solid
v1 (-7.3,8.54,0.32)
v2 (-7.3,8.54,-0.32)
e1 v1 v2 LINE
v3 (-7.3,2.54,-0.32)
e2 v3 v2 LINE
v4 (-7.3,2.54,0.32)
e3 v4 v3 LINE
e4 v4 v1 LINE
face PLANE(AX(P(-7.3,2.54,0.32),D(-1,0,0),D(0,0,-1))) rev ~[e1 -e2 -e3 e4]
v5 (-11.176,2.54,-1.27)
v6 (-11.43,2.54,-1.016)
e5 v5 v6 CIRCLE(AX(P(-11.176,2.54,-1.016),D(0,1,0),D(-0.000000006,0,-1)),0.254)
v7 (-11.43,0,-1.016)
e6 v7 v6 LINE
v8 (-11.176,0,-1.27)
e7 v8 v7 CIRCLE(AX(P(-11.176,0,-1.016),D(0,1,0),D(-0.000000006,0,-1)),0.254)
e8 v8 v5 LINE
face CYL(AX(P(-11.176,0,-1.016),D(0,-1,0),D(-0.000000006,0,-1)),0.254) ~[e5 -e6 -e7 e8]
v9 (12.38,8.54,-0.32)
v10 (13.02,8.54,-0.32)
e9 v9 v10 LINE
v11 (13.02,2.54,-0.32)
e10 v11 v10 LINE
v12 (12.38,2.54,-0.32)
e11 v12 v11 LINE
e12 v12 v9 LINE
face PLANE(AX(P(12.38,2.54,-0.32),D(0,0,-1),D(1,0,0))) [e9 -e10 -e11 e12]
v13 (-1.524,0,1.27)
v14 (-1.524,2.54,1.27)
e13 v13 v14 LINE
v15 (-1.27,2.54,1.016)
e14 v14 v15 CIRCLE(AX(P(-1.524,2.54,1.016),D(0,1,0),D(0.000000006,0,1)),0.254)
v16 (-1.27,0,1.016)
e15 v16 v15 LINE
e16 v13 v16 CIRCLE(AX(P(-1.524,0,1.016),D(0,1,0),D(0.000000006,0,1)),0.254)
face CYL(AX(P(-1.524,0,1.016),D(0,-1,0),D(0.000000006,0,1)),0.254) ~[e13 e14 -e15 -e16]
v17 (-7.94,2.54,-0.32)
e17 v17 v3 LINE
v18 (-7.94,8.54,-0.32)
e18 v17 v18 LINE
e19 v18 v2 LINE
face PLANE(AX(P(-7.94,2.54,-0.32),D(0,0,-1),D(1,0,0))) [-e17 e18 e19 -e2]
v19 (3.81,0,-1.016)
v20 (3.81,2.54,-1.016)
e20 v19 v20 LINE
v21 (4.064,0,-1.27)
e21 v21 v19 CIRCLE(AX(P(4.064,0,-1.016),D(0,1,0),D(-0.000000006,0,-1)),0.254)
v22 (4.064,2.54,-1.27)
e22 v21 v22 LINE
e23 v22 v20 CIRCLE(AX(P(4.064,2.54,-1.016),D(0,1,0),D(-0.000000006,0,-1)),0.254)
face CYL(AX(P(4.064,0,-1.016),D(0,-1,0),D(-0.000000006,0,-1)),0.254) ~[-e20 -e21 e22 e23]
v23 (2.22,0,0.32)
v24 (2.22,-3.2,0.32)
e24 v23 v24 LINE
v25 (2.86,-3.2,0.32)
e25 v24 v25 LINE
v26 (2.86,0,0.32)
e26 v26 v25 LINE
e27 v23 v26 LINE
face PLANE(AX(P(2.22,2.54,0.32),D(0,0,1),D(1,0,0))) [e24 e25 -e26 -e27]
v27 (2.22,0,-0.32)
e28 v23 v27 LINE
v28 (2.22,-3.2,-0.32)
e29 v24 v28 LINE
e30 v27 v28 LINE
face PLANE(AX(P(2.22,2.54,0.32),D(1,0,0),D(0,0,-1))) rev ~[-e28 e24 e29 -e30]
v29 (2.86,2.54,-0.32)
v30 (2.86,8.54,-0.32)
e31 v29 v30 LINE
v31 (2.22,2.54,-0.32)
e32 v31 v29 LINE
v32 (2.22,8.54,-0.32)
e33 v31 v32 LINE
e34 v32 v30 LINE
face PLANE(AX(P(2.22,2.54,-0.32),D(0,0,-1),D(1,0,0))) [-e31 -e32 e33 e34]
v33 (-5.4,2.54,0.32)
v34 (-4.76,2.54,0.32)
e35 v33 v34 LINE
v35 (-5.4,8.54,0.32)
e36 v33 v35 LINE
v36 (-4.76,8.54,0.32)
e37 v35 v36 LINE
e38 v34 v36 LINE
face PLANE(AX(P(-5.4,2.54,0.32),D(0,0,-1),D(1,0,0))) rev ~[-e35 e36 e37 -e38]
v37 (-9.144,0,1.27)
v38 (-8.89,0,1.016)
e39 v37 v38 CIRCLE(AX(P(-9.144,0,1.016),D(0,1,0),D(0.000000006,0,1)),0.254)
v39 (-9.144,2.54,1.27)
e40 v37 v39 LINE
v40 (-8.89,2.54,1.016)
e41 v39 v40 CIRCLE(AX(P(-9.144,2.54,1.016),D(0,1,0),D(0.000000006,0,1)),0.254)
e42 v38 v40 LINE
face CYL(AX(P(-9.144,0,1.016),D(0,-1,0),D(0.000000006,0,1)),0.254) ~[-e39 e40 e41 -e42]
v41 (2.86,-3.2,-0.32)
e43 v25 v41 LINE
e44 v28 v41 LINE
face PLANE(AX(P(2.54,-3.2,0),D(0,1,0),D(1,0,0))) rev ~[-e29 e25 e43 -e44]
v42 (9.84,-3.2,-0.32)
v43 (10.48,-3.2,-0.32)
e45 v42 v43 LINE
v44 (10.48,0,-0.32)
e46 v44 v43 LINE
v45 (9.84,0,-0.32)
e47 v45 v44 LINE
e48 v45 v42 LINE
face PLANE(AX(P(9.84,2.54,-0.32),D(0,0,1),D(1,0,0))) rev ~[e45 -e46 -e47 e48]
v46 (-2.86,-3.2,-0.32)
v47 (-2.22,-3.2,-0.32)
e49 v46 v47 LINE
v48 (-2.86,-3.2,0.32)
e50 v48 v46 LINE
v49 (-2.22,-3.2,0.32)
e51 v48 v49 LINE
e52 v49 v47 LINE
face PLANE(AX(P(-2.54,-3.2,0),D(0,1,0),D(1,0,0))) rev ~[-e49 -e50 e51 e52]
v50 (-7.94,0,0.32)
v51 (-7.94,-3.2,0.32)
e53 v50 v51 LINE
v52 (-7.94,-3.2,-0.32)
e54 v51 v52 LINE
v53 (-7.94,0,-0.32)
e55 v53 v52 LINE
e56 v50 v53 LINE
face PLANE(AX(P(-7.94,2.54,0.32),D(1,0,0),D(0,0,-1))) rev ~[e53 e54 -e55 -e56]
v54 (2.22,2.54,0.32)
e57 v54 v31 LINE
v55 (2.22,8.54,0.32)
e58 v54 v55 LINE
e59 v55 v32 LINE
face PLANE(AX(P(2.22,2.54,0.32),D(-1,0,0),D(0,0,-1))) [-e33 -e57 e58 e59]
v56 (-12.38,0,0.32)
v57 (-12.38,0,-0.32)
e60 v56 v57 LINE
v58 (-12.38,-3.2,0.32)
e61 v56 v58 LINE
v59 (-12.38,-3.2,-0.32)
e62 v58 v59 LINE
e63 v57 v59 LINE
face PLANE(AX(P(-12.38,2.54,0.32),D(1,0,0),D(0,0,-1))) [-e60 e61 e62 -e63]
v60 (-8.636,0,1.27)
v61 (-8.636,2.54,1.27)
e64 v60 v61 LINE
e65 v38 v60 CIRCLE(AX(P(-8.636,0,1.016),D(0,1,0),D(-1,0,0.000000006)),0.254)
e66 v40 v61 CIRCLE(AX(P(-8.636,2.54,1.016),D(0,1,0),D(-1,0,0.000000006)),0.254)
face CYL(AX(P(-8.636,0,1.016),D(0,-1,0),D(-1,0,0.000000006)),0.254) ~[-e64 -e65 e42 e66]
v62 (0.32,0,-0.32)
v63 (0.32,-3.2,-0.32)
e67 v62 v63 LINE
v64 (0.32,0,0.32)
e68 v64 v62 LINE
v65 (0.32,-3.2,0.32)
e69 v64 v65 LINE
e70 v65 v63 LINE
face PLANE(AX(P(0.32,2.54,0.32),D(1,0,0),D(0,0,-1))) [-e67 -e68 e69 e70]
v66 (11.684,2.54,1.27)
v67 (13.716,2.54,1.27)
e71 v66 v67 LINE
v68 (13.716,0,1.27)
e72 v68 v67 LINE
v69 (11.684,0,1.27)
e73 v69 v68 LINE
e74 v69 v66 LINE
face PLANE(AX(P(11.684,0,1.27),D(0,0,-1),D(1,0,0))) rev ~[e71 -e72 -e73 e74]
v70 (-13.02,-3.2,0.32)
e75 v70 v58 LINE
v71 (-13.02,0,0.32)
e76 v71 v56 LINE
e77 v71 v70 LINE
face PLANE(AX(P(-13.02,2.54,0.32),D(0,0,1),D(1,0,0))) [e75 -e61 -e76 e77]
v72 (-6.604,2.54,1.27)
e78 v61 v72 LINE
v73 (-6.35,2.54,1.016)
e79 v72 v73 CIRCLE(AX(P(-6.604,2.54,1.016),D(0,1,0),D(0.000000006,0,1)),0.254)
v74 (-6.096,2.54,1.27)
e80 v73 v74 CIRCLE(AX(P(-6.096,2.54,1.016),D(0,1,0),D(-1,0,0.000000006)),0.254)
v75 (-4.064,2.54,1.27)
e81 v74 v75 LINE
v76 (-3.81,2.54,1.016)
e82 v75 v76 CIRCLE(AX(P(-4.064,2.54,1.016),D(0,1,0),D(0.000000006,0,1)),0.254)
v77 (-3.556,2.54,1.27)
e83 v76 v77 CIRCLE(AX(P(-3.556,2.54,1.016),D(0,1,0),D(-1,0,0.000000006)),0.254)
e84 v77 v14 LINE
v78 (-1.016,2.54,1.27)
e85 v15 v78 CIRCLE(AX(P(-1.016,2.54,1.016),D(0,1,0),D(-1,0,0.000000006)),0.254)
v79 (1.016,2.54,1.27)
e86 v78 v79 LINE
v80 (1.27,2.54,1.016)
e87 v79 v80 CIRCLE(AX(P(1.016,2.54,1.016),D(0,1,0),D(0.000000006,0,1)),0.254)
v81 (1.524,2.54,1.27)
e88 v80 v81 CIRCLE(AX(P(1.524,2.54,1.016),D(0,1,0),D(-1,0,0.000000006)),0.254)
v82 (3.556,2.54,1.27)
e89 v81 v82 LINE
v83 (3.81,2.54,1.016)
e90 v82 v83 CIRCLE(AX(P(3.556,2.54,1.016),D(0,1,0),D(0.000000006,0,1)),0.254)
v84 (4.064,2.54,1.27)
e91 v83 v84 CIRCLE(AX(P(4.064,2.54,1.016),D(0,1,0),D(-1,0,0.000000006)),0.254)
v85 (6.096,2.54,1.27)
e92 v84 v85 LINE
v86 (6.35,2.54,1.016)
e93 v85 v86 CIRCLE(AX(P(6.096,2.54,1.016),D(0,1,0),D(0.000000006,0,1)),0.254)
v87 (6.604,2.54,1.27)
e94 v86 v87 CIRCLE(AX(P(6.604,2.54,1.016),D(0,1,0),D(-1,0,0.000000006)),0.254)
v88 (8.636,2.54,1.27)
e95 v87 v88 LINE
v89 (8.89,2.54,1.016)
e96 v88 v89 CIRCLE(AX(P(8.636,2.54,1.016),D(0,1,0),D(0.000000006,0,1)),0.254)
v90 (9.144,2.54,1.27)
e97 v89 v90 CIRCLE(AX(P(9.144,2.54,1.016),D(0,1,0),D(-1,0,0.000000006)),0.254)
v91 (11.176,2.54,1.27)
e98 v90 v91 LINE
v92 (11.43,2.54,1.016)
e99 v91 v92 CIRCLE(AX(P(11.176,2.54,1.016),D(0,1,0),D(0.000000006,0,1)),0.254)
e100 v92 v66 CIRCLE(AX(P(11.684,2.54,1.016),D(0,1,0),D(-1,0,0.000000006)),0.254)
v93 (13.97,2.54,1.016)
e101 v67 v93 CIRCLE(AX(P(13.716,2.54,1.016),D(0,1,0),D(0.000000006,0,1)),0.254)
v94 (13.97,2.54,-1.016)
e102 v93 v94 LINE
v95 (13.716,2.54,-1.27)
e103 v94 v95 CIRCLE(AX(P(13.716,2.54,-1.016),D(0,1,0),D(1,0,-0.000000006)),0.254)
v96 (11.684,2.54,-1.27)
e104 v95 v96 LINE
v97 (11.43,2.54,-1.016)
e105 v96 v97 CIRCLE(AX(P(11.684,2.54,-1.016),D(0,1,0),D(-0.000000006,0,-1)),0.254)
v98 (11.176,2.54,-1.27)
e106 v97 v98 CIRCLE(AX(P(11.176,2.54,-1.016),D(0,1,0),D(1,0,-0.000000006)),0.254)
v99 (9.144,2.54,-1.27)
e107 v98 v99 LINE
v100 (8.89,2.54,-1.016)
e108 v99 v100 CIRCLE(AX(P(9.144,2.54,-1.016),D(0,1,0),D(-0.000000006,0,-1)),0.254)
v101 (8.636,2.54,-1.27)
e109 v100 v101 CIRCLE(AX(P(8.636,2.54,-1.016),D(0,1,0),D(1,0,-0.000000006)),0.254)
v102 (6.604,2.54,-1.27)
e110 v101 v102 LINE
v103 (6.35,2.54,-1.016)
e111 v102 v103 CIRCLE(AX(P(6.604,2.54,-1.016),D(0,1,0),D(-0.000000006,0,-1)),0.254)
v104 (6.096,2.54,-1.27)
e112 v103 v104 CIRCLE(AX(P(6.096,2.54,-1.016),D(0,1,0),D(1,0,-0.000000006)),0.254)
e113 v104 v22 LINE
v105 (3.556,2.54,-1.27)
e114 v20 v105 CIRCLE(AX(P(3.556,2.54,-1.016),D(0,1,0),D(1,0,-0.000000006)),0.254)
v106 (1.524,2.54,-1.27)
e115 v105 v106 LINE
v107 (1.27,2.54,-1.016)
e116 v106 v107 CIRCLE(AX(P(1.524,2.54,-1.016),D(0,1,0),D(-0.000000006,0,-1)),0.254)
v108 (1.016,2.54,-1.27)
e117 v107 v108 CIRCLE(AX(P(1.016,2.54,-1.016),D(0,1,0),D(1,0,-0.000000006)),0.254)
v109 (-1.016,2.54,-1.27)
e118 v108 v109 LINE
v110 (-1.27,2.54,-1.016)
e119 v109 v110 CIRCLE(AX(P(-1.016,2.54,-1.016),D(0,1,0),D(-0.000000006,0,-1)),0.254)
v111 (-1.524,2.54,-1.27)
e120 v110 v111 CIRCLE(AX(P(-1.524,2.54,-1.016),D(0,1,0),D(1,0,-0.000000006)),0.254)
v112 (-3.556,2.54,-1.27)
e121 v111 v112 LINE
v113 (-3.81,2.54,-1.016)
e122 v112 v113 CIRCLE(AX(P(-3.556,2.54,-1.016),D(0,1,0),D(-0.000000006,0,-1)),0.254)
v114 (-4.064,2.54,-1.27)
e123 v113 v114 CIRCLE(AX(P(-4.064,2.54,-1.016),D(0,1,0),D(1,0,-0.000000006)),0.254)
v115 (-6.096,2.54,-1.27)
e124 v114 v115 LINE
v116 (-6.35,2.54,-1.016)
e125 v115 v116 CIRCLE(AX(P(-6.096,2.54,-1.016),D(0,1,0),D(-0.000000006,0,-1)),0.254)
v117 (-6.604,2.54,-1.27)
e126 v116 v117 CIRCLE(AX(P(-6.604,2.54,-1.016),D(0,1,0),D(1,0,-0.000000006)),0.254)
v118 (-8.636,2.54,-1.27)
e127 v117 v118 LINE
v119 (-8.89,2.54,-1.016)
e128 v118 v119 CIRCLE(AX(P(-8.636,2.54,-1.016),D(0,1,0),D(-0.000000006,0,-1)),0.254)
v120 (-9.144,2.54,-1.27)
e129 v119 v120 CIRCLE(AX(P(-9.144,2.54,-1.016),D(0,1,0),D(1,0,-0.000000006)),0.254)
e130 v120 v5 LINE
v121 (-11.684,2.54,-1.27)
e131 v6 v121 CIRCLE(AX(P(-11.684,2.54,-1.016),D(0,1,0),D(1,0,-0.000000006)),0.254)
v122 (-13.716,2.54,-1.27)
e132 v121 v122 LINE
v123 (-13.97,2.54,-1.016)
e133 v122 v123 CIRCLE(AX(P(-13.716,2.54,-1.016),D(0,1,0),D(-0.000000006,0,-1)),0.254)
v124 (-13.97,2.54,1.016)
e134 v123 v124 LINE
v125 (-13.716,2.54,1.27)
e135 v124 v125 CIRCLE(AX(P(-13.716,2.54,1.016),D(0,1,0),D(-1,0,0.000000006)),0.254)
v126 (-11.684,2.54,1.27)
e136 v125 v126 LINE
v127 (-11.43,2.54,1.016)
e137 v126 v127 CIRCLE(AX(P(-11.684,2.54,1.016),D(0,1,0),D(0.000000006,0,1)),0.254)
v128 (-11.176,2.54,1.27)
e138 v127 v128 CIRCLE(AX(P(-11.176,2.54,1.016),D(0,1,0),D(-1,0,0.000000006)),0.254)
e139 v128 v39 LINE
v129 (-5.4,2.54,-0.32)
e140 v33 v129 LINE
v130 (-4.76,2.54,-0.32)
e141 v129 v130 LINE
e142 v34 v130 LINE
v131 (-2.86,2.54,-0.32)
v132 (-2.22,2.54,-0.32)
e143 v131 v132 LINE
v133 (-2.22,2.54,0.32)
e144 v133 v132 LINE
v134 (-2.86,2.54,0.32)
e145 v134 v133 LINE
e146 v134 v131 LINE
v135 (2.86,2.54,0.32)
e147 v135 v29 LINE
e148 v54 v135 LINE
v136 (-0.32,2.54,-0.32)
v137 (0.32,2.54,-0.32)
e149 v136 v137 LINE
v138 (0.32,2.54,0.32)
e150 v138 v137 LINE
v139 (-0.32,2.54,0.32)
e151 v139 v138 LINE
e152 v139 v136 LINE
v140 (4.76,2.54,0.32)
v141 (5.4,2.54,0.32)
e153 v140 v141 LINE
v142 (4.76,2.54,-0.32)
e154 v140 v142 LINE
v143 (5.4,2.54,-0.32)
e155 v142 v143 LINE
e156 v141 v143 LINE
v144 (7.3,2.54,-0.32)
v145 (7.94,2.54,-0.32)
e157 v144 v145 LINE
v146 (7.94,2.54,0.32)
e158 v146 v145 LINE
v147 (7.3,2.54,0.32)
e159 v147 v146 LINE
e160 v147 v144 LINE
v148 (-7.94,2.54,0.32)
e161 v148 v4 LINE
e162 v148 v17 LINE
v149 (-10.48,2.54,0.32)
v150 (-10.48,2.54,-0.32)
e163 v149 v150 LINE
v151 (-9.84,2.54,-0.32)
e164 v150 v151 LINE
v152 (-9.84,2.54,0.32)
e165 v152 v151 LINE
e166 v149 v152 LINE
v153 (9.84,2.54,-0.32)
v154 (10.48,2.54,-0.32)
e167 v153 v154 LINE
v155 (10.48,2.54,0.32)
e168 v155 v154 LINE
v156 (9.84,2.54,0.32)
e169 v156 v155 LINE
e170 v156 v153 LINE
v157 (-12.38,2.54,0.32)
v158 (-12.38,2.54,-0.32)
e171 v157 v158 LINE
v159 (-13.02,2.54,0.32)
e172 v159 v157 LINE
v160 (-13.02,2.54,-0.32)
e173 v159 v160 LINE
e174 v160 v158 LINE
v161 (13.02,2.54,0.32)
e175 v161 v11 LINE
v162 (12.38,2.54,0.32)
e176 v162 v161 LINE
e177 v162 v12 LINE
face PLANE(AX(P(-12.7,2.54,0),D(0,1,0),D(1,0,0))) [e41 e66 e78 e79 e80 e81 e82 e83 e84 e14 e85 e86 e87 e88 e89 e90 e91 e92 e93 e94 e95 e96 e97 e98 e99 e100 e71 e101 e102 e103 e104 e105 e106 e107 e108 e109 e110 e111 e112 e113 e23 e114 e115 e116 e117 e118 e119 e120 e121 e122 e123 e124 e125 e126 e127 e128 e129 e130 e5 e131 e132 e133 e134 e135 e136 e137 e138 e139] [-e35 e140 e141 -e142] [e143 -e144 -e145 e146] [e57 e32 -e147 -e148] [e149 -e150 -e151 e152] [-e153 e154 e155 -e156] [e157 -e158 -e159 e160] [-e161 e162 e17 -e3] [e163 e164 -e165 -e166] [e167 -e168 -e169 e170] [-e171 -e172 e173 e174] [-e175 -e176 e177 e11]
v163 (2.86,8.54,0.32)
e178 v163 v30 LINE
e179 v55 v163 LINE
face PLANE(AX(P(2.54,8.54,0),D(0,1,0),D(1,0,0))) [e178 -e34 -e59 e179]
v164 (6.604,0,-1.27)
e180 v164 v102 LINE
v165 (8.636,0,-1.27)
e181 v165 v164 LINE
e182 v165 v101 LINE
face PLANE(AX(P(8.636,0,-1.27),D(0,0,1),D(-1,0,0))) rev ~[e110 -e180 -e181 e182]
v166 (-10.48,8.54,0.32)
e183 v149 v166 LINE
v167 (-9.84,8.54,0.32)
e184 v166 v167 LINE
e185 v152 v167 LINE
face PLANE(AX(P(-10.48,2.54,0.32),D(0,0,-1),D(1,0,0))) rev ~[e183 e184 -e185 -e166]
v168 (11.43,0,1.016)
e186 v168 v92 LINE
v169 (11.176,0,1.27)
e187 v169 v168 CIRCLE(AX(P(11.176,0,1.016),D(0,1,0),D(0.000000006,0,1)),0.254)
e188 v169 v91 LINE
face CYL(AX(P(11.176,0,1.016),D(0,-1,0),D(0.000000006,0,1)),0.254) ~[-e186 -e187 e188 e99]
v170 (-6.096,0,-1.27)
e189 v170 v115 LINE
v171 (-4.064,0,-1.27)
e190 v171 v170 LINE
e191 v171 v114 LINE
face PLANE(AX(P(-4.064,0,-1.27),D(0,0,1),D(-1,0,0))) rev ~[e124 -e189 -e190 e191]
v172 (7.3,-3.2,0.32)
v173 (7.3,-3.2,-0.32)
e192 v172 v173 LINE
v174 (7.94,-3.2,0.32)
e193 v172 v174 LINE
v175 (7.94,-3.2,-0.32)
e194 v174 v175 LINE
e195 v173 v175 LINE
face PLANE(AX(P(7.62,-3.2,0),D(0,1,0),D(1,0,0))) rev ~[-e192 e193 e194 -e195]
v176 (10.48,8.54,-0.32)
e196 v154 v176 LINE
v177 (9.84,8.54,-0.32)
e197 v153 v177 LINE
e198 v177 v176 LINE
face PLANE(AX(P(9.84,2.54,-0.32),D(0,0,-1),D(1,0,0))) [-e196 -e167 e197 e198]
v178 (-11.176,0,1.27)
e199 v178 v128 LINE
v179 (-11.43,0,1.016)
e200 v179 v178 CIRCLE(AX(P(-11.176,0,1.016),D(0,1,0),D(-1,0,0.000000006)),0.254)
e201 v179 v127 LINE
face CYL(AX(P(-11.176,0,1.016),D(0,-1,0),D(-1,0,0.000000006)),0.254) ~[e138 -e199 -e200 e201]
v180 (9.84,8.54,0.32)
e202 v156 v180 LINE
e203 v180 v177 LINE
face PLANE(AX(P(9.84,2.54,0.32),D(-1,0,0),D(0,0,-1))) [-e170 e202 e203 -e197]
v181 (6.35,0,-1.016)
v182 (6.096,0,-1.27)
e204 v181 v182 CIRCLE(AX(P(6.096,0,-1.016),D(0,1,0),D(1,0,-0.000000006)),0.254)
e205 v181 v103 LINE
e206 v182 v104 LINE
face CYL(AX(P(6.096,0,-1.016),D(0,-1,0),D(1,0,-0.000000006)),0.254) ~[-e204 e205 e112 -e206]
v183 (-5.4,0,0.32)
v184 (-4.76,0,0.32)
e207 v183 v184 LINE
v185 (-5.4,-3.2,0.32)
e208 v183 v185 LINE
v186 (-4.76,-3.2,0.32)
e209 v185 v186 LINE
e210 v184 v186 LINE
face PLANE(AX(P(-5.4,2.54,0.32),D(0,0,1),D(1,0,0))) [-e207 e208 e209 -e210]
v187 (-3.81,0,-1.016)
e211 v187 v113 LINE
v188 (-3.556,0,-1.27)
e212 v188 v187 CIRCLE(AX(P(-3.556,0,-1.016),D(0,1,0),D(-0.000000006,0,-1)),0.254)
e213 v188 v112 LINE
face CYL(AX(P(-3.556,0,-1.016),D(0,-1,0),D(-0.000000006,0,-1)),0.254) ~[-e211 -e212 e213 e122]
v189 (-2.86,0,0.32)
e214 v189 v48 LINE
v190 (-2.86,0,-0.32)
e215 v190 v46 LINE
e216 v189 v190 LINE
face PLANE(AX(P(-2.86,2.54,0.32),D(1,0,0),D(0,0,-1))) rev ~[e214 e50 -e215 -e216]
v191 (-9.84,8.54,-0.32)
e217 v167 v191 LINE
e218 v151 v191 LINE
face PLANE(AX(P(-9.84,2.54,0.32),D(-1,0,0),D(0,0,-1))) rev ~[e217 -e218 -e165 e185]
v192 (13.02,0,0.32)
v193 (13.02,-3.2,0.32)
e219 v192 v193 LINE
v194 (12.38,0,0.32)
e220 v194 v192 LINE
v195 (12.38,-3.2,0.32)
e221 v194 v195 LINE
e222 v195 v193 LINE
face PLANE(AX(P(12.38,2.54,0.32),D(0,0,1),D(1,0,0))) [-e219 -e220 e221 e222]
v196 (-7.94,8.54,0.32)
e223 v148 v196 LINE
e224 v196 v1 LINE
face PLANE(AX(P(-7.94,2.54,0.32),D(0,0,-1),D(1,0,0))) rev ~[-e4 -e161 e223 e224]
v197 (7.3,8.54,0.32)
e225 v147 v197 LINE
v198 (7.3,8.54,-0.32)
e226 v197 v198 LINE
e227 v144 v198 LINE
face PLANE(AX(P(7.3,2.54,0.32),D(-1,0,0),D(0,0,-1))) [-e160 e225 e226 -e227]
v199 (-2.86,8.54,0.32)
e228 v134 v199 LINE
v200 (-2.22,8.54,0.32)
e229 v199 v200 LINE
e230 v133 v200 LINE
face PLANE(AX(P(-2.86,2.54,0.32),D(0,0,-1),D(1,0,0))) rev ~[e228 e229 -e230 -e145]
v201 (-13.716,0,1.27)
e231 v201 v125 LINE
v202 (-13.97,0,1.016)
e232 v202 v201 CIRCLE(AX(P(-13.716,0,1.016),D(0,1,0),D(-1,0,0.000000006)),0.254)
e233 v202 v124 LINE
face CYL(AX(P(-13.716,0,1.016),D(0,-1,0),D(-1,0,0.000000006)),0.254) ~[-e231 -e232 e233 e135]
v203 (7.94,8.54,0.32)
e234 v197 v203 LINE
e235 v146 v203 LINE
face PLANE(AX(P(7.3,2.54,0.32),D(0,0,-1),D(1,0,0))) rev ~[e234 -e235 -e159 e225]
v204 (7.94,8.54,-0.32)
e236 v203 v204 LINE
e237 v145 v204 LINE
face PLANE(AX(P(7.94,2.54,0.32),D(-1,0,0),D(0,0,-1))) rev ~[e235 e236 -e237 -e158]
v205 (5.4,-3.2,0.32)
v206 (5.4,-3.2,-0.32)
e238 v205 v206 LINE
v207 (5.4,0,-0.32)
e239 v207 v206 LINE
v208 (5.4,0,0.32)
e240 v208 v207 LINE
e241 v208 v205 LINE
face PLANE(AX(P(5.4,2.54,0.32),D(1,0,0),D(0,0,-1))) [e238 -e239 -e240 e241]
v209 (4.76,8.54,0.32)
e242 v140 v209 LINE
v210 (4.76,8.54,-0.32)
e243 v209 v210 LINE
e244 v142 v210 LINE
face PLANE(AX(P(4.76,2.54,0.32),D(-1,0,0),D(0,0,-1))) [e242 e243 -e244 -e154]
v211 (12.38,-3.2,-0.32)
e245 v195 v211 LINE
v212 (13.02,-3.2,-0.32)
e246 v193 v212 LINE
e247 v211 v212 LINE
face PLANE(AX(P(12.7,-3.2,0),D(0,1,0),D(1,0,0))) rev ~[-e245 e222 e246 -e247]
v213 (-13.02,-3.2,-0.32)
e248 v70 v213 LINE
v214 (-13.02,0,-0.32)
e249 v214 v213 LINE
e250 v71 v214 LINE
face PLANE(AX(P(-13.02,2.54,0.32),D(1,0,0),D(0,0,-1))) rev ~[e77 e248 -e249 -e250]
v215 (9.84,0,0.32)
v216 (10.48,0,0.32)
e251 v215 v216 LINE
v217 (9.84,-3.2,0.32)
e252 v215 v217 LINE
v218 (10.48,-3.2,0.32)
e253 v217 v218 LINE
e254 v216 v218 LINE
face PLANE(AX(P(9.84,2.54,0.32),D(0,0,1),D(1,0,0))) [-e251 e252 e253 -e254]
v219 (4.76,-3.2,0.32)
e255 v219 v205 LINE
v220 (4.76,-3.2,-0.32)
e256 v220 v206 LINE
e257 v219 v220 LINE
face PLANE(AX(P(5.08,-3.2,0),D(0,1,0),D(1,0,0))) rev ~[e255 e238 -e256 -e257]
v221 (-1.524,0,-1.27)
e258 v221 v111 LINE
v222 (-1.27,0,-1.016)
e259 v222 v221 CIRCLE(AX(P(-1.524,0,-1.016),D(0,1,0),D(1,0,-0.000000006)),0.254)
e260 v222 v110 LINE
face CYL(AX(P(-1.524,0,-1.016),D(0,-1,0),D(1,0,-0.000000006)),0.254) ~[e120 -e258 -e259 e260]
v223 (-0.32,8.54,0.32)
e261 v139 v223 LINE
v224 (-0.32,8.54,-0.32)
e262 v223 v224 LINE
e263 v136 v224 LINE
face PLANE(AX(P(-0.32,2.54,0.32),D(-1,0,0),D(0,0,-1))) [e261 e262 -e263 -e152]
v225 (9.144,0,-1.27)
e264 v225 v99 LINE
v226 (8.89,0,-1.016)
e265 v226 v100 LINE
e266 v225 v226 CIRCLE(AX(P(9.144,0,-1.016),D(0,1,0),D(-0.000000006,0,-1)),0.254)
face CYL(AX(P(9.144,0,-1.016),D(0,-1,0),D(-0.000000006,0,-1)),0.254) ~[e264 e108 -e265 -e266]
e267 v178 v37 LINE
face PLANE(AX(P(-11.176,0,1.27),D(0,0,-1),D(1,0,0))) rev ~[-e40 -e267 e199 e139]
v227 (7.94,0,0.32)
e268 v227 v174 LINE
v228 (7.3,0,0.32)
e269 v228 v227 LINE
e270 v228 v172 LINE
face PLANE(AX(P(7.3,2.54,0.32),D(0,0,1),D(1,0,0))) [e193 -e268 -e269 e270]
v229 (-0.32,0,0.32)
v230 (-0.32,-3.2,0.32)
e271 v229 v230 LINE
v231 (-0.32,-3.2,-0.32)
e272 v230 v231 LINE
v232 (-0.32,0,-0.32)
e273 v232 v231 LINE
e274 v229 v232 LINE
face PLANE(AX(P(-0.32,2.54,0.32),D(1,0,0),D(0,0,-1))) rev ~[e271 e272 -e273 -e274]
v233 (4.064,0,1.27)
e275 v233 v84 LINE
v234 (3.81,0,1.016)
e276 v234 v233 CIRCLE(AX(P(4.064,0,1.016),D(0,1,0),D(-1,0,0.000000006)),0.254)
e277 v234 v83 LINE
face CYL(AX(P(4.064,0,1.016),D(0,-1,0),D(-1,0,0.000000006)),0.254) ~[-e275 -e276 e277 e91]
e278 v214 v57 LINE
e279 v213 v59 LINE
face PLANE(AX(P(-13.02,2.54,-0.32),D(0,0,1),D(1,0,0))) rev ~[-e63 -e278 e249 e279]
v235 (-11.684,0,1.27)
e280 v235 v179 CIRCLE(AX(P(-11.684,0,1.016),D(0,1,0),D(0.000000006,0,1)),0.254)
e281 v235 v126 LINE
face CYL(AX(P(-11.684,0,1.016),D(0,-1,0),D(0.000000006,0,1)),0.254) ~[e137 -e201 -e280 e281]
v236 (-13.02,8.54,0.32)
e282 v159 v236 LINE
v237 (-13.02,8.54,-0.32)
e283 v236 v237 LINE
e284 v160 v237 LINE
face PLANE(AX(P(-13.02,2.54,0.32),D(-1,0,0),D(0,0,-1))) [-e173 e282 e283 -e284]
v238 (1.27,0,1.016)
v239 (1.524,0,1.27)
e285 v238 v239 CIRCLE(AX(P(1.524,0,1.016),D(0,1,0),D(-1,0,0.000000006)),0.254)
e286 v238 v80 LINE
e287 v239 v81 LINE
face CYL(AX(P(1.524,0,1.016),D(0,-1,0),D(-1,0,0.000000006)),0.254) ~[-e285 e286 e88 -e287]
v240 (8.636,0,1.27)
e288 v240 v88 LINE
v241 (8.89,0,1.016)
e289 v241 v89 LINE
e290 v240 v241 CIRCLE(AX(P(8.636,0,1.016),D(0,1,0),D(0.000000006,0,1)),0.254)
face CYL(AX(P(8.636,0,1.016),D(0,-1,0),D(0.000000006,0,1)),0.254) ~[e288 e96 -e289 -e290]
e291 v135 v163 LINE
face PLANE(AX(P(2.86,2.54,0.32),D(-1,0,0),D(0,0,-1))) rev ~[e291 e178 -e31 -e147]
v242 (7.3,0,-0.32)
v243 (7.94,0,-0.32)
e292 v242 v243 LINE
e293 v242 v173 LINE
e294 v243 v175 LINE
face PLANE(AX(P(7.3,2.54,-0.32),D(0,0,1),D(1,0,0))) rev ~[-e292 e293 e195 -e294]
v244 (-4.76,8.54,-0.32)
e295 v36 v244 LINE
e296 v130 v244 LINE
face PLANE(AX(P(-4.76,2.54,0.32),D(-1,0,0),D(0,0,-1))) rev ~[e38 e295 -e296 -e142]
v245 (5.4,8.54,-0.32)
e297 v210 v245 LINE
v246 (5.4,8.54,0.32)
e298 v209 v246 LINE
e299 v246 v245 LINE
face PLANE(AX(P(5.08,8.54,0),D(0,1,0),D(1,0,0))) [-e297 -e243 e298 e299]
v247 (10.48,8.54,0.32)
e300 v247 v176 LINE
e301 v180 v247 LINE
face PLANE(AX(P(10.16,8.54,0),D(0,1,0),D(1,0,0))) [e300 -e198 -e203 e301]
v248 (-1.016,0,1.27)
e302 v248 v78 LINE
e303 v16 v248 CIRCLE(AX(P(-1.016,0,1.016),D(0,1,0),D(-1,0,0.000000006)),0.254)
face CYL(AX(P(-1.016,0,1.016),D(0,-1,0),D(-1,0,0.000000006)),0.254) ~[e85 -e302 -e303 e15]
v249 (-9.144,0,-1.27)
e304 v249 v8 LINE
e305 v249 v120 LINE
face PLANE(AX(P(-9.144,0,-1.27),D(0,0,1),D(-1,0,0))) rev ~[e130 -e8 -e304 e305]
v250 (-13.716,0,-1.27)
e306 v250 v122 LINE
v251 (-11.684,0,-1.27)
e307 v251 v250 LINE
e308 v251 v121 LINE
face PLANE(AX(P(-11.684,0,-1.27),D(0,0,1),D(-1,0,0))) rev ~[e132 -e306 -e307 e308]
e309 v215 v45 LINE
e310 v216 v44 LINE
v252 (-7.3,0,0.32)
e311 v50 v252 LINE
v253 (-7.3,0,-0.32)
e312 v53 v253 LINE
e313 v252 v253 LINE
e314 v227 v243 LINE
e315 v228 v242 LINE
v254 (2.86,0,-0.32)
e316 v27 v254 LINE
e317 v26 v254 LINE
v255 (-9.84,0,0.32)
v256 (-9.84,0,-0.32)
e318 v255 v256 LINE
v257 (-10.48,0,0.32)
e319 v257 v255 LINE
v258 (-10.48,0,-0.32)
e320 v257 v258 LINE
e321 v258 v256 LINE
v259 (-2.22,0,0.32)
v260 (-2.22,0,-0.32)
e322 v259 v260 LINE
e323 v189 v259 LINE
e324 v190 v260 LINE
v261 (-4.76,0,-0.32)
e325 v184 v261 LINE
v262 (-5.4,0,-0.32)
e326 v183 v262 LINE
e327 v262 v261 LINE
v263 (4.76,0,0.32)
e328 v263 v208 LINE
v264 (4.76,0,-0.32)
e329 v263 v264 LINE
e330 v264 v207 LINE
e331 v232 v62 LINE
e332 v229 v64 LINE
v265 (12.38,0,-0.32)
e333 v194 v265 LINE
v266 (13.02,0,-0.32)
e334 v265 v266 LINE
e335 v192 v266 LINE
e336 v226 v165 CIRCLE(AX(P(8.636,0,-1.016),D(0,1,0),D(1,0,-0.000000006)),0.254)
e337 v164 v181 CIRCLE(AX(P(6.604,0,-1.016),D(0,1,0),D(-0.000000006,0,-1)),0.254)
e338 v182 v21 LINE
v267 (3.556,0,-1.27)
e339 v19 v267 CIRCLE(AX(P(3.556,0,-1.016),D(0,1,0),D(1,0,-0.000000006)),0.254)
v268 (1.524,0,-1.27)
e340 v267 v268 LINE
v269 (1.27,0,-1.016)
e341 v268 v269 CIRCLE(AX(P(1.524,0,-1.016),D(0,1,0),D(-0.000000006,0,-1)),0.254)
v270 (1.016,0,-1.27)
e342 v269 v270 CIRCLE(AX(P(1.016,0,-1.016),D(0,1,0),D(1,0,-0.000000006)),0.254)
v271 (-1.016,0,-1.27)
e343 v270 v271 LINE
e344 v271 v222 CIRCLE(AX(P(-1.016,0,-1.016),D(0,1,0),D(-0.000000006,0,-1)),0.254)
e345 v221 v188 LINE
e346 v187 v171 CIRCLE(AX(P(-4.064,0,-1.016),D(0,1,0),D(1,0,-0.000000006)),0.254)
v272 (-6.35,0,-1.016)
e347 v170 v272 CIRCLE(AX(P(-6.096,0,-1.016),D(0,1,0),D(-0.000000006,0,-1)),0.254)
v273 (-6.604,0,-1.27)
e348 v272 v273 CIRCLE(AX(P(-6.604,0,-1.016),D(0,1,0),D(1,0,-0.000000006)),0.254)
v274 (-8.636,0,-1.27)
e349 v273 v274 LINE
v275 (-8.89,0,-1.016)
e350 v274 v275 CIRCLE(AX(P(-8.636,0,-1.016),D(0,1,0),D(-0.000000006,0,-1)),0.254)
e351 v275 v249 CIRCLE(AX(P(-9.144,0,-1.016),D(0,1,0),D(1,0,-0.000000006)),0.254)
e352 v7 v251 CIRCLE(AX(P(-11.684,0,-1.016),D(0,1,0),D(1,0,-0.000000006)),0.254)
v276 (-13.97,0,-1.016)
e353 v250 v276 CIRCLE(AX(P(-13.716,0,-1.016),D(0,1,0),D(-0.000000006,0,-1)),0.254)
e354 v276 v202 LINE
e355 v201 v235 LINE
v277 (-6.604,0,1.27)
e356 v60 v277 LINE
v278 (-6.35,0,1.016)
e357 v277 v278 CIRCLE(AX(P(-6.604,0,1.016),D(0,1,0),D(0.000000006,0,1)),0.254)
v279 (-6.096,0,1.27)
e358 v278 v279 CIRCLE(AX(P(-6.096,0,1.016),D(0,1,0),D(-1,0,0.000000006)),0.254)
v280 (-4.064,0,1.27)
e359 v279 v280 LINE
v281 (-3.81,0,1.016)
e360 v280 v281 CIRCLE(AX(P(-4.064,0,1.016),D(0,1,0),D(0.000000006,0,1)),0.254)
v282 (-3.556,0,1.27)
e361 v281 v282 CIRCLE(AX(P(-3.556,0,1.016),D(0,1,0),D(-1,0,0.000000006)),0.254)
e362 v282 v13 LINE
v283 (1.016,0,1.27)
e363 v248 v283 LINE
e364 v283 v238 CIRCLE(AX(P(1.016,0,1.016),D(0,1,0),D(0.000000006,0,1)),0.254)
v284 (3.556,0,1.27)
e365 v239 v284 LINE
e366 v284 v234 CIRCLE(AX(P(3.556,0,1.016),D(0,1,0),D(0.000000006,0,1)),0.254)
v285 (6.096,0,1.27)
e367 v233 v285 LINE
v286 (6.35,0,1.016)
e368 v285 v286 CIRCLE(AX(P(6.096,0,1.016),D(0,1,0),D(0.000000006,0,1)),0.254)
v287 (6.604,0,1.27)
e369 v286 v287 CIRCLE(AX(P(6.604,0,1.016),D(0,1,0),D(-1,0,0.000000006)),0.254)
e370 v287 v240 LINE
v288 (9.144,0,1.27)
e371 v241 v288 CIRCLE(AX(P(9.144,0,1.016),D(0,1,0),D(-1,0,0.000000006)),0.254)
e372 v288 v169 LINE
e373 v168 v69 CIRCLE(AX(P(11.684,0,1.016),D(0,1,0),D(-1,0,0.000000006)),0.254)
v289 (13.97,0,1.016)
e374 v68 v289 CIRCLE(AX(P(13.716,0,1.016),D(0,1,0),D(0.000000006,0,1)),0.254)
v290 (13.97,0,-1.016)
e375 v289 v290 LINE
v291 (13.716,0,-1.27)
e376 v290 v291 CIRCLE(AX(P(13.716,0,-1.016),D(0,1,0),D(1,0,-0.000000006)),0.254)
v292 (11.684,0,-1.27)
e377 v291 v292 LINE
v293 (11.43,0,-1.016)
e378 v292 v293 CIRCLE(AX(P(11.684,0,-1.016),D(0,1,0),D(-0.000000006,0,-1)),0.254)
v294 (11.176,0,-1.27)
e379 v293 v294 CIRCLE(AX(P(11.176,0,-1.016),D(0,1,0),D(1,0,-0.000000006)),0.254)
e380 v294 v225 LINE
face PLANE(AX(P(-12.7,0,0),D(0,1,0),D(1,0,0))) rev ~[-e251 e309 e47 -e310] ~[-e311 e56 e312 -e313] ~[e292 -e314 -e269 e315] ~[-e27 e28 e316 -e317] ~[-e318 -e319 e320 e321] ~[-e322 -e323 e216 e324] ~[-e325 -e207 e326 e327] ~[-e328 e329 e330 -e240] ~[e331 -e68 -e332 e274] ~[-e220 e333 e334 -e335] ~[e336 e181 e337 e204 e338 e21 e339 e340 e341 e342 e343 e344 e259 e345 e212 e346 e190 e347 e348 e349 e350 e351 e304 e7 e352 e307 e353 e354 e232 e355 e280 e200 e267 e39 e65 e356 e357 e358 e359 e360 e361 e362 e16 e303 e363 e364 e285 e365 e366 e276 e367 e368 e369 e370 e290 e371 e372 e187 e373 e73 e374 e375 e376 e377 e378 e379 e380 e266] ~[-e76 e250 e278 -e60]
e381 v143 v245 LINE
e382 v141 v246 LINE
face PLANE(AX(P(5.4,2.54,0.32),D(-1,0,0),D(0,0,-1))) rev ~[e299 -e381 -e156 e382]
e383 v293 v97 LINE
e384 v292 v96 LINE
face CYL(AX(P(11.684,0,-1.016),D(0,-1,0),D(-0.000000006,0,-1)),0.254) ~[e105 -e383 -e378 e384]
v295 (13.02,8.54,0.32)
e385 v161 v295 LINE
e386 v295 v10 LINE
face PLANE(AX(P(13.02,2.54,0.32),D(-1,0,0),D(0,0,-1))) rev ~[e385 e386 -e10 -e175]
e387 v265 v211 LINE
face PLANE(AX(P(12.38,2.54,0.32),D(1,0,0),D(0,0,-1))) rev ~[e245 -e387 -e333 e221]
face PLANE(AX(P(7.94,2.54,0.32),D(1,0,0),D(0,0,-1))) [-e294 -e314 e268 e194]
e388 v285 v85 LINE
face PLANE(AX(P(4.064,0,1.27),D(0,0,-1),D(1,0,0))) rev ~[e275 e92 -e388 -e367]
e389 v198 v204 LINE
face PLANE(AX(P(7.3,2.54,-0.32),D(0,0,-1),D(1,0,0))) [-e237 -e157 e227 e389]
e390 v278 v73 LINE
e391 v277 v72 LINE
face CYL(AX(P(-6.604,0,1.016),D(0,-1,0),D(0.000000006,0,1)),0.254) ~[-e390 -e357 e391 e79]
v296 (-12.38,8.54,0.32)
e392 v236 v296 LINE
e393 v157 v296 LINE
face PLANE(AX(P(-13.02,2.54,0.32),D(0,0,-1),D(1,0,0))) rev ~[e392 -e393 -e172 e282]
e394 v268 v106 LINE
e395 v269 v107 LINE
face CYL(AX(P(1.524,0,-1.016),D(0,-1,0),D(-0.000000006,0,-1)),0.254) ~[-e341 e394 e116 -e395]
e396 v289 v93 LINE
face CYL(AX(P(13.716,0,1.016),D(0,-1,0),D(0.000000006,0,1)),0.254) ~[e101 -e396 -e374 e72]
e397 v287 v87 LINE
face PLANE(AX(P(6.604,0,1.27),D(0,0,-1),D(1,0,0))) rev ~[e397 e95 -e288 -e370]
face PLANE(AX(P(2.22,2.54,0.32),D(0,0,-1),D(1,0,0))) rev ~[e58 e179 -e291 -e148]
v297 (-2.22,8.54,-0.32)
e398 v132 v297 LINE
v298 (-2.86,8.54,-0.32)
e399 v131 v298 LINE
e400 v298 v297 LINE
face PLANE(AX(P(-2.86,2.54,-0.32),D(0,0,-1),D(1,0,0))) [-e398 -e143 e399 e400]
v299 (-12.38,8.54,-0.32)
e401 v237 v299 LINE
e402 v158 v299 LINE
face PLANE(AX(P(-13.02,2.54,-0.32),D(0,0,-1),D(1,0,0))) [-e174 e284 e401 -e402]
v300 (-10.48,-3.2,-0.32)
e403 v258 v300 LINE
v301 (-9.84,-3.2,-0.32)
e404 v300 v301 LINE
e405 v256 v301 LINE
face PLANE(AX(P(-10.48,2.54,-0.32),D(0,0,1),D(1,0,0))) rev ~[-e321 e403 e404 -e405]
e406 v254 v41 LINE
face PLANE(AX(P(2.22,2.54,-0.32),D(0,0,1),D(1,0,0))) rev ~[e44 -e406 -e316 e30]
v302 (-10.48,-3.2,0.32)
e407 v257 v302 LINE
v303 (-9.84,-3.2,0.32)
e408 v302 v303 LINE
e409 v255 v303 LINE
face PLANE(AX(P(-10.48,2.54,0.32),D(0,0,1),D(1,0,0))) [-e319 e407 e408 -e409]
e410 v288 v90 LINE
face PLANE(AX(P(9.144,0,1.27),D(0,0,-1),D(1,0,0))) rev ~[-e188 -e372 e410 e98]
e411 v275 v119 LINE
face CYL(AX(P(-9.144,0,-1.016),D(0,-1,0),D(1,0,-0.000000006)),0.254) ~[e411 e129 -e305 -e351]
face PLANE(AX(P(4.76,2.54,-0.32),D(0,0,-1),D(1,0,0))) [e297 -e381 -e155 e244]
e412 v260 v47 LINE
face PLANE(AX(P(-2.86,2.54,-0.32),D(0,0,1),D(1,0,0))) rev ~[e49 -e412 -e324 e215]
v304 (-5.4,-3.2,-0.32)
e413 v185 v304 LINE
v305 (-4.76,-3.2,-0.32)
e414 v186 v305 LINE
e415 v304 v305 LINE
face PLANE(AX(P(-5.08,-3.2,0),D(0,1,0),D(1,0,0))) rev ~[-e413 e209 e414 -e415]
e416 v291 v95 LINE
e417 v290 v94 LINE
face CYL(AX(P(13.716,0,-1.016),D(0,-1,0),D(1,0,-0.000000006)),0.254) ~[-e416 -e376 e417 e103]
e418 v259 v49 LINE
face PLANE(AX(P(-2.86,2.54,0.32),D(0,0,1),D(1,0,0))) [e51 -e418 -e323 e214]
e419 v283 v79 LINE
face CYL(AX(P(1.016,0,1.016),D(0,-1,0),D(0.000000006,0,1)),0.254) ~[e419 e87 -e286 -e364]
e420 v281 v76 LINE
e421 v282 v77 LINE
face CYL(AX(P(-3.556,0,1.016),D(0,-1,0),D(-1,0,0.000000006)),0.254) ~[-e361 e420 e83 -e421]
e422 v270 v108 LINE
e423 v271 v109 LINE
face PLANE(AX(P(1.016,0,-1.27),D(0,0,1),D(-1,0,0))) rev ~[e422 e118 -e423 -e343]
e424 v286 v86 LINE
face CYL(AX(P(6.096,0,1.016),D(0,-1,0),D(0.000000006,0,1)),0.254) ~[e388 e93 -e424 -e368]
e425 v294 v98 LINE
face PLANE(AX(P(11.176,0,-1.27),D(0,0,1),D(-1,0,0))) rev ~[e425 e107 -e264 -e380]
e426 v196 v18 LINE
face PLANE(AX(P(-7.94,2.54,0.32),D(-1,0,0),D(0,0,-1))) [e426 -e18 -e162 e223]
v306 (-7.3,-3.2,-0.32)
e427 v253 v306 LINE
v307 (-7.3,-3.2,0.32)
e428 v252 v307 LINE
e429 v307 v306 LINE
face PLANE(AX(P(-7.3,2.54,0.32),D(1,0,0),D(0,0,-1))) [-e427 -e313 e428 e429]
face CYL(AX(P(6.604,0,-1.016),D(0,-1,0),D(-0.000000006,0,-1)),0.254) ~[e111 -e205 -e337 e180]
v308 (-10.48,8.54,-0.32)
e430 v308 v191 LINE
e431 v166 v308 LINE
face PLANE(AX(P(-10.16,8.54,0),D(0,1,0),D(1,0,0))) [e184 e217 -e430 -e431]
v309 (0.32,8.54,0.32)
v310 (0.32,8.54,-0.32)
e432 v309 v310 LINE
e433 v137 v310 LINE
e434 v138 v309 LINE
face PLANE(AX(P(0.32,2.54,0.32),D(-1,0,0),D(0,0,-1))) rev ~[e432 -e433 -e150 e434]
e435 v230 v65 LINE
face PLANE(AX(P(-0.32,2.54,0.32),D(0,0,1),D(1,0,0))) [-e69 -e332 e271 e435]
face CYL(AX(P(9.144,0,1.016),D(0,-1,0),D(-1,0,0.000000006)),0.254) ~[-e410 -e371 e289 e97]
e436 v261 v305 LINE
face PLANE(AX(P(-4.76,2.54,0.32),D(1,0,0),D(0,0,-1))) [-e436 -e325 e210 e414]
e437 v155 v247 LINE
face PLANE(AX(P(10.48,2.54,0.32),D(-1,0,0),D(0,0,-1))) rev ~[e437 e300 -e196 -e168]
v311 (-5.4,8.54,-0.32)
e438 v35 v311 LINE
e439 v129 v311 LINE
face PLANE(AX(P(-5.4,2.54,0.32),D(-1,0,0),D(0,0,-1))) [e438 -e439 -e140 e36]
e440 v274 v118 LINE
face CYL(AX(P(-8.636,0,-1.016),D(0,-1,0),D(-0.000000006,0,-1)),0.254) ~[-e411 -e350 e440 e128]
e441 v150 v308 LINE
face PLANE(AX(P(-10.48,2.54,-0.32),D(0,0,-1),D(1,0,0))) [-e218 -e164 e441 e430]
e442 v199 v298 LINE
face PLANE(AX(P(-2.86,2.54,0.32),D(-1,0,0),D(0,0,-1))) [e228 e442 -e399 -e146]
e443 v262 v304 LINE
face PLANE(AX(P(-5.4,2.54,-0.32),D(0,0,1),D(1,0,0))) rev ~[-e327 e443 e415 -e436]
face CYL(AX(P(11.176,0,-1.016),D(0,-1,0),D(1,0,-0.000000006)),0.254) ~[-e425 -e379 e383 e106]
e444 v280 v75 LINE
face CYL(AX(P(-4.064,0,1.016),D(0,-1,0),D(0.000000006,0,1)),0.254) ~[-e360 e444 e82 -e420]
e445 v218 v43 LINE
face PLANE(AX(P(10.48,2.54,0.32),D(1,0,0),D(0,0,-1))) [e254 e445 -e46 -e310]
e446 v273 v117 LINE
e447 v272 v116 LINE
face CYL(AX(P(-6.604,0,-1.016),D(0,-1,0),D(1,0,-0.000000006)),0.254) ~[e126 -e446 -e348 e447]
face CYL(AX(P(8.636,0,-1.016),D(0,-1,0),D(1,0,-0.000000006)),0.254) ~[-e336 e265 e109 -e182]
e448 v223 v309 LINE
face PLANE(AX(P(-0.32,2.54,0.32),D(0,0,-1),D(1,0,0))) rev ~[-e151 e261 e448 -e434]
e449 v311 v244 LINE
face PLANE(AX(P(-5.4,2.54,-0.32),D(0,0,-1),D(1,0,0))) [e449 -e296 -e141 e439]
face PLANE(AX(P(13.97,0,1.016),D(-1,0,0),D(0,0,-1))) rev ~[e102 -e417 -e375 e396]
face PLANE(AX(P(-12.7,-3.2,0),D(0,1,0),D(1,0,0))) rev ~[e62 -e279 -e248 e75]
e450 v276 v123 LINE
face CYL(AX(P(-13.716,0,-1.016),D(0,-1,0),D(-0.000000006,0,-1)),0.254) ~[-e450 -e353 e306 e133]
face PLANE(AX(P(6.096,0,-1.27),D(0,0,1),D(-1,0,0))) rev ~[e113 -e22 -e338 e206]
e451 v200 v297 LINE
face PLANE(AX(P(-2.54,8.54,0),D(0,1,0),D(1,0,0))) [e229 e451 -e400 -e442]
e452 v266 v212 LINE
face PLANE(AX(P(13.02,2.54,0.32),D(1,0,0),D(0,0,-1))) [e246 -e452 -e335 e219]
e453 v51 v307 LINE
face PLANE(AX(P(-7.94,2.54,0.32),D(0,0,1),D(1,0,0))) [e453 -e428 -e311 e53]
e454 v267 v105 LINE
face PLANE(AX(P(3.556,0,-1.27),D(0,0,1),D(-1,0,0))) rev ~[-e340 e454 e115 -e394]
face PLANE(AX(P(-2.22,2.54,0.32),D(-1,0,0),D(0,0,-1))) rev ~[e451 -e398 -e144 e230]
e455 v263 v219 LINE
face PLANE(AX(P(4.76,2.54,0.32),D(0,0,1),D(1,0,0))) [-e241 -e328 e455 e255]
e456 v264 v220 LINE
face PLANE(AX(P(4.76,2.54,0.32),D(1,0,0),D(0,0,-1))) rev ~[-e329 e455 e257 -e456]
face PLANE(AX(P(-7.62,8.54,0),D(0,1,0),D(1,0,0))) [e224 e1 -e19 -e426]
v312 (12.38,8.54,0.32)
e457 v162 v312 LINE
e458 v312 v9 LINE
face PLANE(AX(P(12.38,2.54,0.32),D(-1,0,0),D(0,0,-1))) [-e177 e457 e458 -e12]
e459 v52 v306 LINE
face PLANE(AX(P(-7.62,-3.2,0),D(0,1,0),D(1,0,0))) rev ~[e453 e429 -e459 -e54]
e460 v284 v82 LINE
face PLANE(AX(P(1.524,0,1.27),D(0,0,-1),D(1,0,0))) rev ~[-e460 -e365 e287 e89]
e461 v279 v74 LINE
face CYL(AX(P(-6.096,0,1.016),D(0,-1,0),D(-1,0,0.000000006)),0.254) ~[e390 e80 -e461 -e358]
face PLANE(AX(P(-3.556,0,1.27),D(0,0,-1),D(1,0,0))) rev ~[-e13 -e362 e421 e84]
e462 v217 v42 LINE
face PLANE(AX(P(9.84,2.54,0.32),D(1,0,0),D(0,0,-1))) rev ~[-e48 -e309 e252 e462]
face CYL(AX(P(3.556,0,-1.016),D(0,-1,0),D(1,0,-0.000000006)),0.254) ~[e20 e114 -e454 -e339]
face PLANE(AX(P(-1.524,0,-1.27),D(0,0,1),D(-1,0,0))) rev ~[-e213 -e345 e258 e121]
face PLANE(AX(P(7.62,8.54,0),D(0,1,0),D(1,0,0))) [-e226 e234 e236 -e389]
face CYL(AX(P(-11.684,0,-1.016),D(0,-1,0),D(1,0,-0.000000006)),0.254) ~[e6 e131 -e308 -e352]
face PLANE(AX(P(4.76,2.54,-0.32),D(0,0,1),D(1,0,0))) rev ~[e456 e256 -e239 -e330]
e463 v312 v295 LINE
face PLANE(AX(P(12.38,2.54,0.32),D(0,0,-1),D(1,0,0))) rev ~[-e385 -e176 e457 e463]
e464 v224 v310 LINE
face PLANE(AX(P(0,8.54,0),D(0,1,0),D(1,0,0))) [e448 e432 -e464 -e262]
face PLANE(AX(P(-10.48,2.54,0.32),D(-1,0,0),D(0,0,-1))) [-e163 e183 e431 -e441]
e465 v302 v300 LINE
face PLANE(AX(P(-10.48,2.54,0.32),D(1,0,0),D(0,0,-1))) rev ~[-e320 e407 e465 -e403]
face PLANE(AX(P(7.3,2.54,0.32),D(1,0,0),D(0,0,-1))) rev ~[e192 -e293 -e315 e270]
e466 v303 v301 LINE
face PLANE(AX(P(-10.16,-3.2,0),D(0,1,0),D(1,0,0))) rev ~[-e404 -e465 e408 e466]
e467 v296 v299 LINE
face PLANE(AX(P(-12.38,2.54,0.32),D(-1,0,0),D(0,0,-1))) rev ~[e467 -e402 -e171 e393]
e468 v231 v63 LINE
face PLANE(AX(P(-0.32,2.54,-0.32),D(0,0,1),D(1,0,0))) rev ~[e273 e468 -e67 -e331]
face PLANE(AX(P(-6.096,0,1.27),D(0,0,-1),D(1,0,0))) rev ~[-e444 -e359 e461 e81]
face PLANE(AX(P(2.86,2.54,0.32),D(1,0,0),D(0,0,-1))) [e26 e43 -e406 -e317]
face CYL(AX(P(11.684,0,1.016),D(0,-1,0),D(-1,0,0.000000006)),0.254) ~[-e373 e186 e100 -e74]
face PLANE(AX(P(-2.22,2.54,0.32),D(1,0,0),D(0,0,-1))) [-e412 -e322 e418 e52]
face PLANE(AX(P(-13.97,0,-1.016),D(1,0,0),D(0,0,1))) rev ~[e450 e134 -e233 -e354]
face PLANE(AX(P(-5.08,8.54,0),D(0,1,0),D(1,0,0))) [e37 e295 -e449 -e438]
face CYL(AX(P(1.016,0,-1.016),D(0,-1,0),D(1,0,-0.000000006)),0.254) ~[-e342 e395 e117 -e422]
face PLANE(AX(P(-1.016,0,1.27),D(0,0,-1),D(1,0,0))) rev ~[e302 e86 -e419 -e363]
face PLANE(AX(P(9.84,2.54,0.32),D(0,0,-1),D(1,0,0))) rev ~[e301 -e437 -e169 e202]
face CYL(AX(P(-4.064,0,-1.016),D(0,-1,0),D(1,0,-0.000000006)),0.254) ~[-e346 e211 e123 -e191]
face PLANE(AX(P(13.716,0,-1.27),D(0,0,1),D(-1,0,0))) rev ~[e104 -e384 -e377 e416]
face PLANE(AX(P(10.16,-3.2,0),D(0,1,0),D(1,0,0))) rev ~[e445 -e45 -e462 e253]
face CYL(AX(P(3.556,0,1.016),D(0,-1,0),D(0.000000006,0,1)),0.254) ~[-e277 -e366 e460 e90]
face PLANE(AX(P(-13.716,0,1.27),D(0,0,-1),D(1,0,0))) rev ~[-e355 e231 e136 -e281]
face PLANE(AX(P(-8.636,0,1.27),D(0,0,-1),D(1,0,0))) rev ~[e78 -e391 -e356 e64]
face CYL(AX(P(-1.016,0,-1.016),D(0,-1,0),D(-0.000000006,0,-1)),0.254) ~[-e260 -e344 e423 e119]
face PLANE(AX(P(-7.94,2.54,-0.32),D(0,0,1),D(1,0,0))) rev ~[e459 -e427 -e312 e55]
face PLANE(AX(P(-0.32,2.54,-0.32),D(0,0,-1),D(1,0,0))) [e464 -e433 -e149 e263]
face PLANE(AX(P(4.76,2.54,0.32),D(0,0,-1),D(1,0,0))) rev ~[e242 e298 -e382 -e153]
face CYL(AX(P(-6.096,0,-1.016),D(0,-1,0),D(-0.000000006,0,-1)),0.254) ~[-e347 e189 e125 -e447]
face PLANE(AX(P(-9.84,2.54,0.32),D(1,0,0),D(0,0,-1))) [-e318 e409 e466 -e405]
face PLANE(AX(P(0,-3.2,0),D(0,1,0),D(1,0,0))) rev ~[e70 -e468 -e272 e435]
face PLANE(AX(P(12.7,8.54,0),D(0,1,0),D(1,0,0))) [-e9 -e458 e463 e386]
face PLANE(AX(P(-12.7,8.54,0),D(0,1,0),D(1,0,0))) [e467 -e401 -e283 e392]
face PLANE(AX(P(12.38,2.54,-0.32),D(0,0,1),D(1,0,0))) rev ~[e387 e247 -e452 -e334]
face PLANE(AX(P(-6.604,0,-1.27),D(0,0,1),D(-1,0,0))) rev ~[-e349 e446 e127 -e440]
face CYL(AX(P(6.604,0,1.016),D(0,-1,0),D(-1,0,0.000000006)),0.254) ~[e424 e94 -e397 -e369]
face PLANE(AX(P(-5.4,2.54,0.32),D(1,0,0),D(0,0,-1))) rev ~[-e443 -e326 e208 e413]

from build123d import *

# Parameters (mm, degrees)
BOSS_EXTRUDE1_DEPTH      = 2.54
SKETCH2_W                = 0.64
SKETCH2_H                = 0.64
BOSS_EXTRUDE2_DEPTH      = 6
BOSS_EXTRUDE2_DEPTH_BACK = 5.74


with BuildPart() as part:
    # Sketch1 → Boss-Extrude1 (new body)
    with BuildSketch(Plane(origin=(0, 0, 0), x_dir=(1, 0, 0), z_dir=(0, 1, 0))):
        with BuildLine():
            Line((-11.43, -1.016), (-11.43, 1.016))
            ThreePointArc((-11.43, 1.016), (-11.504394878, 1.195605122), (-11.684, 1.27))
            Line((-11.684, 1.27), (-13.716, 1.27))
            ThreePointArc((-13.716, 1.27), (-13.895605122, 1.195605122), (-13.97, 1.016))
            Line((-13.97, 1.016), (-13.97, -1.016))
            ThreePointArc((-13.97, -1.016), (-13.895605122, -1.195605122), (-13.716, -1.27))
            Line((-13.716, -1.27), (-11.684, -1.27))
            ThreePointArc((-11.684, -1.27), (-11.504394878, -1.195605122), (-11.43, -1.016))
        make_face()
        with BuildLine():
            Line((-8.89, -1.016), (-8.89, 1.016))
            ThreePointArc((-8.89, 1.016), (-8.964394878, 1.195605122), (-9.144, 1.27))
            Line((-9.144, 1.27), (-11.176, 1.27))
            ThreePointArc((-11.176, 1.27), (-11.355605122, 1.195605122), (-11.43, 1.016))
            Line((-11.43, 1.016), (-11.43, -1.016))
            ThreePointArc((-11.43, -1.016), (-11.355605122, -1.195605122), (-11.176, -1.27))
            Line((-11.176, -1.27), (-9.144, -1.27))
            ThreePointArc((-9.144, -1.27), (-8.964394878, -1.195605122), (-8.89, -1.016))
        make_face()
        with BuildLine():
            Line((-6.35, -1.016), (-6.35, 1.016))
            ThreePointArc((-6.35, 1.016), (-6.424394878, 1.195605122), (-6.604, 1.27))
            Line((-6.604, 1.27), (-8.636, 1.27))
            ThreePointArc((-8.636, 1.27), (-8.815605122, 1.195605122), (-8.89, 1.016))
            Line((-8.89, 1.016), (-8.89, -1.016))
            ThreePointArc((-8.89, -1.016), (-8.815605122, -1.195605122), (-8.636, -1.27))
            Line((-8.636, -1.27), (-6.604, -1.27))
            ThreePointArc((-6.604, -1.27), (-6.424394878, -1.195605122), (-6.35, -1.016))
        make_face()
        with BuildLine():
            Line((-3.81, -1.016), (-3.81, 1.016))
            ThreePointArc((-3.81, 1.016), (-3.884394878, 1.195605122), (-4.064, 1.27))
            Line((-4.064, 1.27), (-6.096, 1.27))
            ThreePointArc((-6.096, 1.27), (-6.275605122, 1.195605122), (-6.35, 1.016))
            Line((-6.35, 1.016), (-6.35, -1.016))
            ThreePointArc((-6.35, -1.016), (-6.275605122, -1.195605122), (-6.096, -1.27))
            Line((-6.096, -1.27), (-4.064, -1.27))
            ThreePointArc((-4.064, -1.27), (-3.884394878, -1.195605122), (-3.81, -1.016))
        make_face()
        with BuildLine():
            Line((-1.27, -1.016), (-1.27, 1.016))
            ThreePointArc((-1.27, 1.016), (-1.344394878, 1.195605122), (-1.524, 1.27))
            Line((-1.524, 1.27), (-3.556, 1.27))
            ThreePointArc((-3.556, 1.27), (-3.735605122, 1.195605122), (-3.81, 1.016))
            Line((-3.81, 1.016), (-3.81, -1.016))
            ThreePointArc((-3.81, -1.016), (-3.735605122, -1.195605122), (-3.556, -1.27))
            Line((-3.556, -1.27), (-1.524, -1.27))
            ThreePointArc((-1.524, -1.27), (-1.344394878, -1.195605122), (-1.27, -1.016))
        make_face()
        with BuildLine():
            Line((1.27, -1.016), (1.27, 1.016))
            ThreePointArc((1.27, 1.016), (1.195605122, 1.195605122), (1.016, 1.27))
            Line((1.016, 1.27), (-1.016, 1.27))
            ThreePointArc((-1.016, 1.27), (-1.195605122, 1.195605122), (-1.27, 1.016))
            Line((-1.27, 1.016), (-1.27, -1.016))
            ThreePointArc((-1.27, -1.016), (-1.195605122, -1.195605122), (-1.016, -1.27))
            Line((-1.016, -1.27), (1.016, -1.27))
            ThreePointArc((1.016, -1.27), (1.195605122, -1.195605122), (1.27, -1.016))
        make_face()
        with BuildLine():
            Line((3.81, -1.016), (3.81, 1.016))
            ThreePointArc((3.81, 1.016), (3.735605122, 1.195605122), (3.556, 1.27))
            Line((3.556, 1.27), (1.524, 1.27))
            ThreePointArc((1.524, 1.27), (1.344394878, 1.195605122), (1.27, 1.016))
            Line((1.27, 1.016), (1.27, -1.016))
            ThreePointArc((1.27, -1.016), (1.344394878, -1.195605122), (1.524, -1.27))
            Line((1.524, -1.27), (3.556, -1.27))
            ThreePointArc((3.556, -1.27), (3.735605122, -1.195605122), (3.81, -1.016))
        make_face()
        with BuildLine():
            Line((6.35, -1.016), (6.35, 1.016))
            ThreePointArc((6.35, 1.016), (6.275605122, 1.195605122), (6.096, 1.27))
            Line((6.096, 1.27), (4.064, 1.27))
            ThreePointArc((4.064, 1.27), (3.884394878, 1.195605122), (3.81, 1.016))
            Line((3.81, 1.016), (3.81, -1.016))
            ThreePointArc((3.81, -1.016), (3.884394878, -1.195605122), (4.064, -1.27))
            Line((4.064, -1.27), (6.096, -1.27))
            ThreePointArc((6.096, -1.27), (6.275605122, -1.195605122), (6.35, -1.016))
        make_face()
        with BuildLine():
            Line((8.89, -1.016), (8.89, 1.016))
            ThreePointArc((8.89, 1.016), (8.815605122, 1.195605122), (8.636, 1.27))
            Line((8.636, 1.27), (6.604, 1.27))
            ThreePointArc((6.604, 1.27), (6.424394878, 1.195605122), (6.35, 1.016))
            Line((6.35, 1.016), (6.35, -1.016))
            ThreePointArc((6.35, -1.016), (6.424394878, -1.195605122), (6.604, -1.27))
            Line((6.604, -1.27), (8.636, -1.27))
            ThreePointArc((8.636, -1.27), (8.815605122, -1.195605122), (8.89, -1.016))
        make_face()
        with BuildLine():
            Line((11.43, -1.016), (11.43, 1.016))
            ThreePointArc((11.43, 1.016), (11.355605122, 1.195605122), (11.176, 1.27))
            Line((11.176, 1.27), (9.144, 1.27))
            ThreePointArc((9.144, 1.27), (8.964394878, 1.195605122), (8.89, 1.016))
            Line((8.89, 1.016), (8.89, -1.016))
            ThreePointArc((8.89, -1.016), (8.964394878, -1.195605122), (9.144, -1.27))
            Line((9.144, -1.27), (11.176, -1.27))
            ThreePointArc((11.176, -1.27), (11.355605122, -1.195605122), (11.43, -1.016))
        make_face()
        with BuildLine():
            Line((13.97, -1.016), (13.97, 1.016))
            ThreePointArc((13.97, 1.016), (13.895605122, 1.195605122), (13.716, 1.27))
            Line((13.716, 1.27), (11.684, 1.27))
            ThreePointArc((11.684, 1.27), (11.504394878, 1.195605122), (11.43, 1.016))
            Line((11.43, 1.016), (11.43, -1.016))
            ThreePointArc((11.43, -1.016), (11.504394878, -1.195605122), (11.684, -1.27))
            Line((11.684, -1.27), (13.716, -1.27))
            ThreePointArc((13.716, -1.27), (13.895605122, -1.195605122), (13.97, -1.016))
        make_face()
    extrude(amount=BOSS_EXTRUDE1_DEPTH)

    # Sketch2 → Boss-Extrude2 (add, two sides)
    with BuildSketch(Plane(origin=(0, 2.54, 0), x_dir=(1, 0, 0), z_dir=(0, 1, 0))) as boss_extrude2_sk:
        with Locations((-12.7, 0)):
            Rectangle(SKETCH2_W, SKETCH2_H)
        with Locations((-10.16, 0)):
            Rectangle(SKETCH2_W, SKETCH2_H)
        with Locations((-7.62, 0)):
            Rectangle(SKETCH2_W, SKETCH2_H)
        with Locations((-5.08, 0)):
            Rectangle(SKETCH2_W, SKETCH2_H)
        with Locations((-2.54, 0)):
            Rectangle(SKETCH2_W, SKETCH2_H)
        Rectangle(SKETCH2_W, SKETCH2_H)
        with Locations((2.54, 0)):
            Rectangle(SKETCH2_W, SKETCH2_H)
        with Locations((5.08, 0)):
            Rectangle(SKETCH2_W, SKETCH2_H)
        with Locations((7.62, 0)):
            Rectangle(SKETCH2_W, SKETCH2_H)
        with Locations((10.16, 0)):
            Rectangle(SKETCH2_W, SKETCH2_H)
        with Locations((12.7, 0)):
            Rectangle(SKETCH2_W, SKETCH2_H)
    extrude(amount=BOSS_EXTRUDE2_DEPTH)
    extrude(boss_extrude2_sk.sketch, amount=-BOSS_EXTRUDE2_DEPTH_BACK)


solid = part.part
